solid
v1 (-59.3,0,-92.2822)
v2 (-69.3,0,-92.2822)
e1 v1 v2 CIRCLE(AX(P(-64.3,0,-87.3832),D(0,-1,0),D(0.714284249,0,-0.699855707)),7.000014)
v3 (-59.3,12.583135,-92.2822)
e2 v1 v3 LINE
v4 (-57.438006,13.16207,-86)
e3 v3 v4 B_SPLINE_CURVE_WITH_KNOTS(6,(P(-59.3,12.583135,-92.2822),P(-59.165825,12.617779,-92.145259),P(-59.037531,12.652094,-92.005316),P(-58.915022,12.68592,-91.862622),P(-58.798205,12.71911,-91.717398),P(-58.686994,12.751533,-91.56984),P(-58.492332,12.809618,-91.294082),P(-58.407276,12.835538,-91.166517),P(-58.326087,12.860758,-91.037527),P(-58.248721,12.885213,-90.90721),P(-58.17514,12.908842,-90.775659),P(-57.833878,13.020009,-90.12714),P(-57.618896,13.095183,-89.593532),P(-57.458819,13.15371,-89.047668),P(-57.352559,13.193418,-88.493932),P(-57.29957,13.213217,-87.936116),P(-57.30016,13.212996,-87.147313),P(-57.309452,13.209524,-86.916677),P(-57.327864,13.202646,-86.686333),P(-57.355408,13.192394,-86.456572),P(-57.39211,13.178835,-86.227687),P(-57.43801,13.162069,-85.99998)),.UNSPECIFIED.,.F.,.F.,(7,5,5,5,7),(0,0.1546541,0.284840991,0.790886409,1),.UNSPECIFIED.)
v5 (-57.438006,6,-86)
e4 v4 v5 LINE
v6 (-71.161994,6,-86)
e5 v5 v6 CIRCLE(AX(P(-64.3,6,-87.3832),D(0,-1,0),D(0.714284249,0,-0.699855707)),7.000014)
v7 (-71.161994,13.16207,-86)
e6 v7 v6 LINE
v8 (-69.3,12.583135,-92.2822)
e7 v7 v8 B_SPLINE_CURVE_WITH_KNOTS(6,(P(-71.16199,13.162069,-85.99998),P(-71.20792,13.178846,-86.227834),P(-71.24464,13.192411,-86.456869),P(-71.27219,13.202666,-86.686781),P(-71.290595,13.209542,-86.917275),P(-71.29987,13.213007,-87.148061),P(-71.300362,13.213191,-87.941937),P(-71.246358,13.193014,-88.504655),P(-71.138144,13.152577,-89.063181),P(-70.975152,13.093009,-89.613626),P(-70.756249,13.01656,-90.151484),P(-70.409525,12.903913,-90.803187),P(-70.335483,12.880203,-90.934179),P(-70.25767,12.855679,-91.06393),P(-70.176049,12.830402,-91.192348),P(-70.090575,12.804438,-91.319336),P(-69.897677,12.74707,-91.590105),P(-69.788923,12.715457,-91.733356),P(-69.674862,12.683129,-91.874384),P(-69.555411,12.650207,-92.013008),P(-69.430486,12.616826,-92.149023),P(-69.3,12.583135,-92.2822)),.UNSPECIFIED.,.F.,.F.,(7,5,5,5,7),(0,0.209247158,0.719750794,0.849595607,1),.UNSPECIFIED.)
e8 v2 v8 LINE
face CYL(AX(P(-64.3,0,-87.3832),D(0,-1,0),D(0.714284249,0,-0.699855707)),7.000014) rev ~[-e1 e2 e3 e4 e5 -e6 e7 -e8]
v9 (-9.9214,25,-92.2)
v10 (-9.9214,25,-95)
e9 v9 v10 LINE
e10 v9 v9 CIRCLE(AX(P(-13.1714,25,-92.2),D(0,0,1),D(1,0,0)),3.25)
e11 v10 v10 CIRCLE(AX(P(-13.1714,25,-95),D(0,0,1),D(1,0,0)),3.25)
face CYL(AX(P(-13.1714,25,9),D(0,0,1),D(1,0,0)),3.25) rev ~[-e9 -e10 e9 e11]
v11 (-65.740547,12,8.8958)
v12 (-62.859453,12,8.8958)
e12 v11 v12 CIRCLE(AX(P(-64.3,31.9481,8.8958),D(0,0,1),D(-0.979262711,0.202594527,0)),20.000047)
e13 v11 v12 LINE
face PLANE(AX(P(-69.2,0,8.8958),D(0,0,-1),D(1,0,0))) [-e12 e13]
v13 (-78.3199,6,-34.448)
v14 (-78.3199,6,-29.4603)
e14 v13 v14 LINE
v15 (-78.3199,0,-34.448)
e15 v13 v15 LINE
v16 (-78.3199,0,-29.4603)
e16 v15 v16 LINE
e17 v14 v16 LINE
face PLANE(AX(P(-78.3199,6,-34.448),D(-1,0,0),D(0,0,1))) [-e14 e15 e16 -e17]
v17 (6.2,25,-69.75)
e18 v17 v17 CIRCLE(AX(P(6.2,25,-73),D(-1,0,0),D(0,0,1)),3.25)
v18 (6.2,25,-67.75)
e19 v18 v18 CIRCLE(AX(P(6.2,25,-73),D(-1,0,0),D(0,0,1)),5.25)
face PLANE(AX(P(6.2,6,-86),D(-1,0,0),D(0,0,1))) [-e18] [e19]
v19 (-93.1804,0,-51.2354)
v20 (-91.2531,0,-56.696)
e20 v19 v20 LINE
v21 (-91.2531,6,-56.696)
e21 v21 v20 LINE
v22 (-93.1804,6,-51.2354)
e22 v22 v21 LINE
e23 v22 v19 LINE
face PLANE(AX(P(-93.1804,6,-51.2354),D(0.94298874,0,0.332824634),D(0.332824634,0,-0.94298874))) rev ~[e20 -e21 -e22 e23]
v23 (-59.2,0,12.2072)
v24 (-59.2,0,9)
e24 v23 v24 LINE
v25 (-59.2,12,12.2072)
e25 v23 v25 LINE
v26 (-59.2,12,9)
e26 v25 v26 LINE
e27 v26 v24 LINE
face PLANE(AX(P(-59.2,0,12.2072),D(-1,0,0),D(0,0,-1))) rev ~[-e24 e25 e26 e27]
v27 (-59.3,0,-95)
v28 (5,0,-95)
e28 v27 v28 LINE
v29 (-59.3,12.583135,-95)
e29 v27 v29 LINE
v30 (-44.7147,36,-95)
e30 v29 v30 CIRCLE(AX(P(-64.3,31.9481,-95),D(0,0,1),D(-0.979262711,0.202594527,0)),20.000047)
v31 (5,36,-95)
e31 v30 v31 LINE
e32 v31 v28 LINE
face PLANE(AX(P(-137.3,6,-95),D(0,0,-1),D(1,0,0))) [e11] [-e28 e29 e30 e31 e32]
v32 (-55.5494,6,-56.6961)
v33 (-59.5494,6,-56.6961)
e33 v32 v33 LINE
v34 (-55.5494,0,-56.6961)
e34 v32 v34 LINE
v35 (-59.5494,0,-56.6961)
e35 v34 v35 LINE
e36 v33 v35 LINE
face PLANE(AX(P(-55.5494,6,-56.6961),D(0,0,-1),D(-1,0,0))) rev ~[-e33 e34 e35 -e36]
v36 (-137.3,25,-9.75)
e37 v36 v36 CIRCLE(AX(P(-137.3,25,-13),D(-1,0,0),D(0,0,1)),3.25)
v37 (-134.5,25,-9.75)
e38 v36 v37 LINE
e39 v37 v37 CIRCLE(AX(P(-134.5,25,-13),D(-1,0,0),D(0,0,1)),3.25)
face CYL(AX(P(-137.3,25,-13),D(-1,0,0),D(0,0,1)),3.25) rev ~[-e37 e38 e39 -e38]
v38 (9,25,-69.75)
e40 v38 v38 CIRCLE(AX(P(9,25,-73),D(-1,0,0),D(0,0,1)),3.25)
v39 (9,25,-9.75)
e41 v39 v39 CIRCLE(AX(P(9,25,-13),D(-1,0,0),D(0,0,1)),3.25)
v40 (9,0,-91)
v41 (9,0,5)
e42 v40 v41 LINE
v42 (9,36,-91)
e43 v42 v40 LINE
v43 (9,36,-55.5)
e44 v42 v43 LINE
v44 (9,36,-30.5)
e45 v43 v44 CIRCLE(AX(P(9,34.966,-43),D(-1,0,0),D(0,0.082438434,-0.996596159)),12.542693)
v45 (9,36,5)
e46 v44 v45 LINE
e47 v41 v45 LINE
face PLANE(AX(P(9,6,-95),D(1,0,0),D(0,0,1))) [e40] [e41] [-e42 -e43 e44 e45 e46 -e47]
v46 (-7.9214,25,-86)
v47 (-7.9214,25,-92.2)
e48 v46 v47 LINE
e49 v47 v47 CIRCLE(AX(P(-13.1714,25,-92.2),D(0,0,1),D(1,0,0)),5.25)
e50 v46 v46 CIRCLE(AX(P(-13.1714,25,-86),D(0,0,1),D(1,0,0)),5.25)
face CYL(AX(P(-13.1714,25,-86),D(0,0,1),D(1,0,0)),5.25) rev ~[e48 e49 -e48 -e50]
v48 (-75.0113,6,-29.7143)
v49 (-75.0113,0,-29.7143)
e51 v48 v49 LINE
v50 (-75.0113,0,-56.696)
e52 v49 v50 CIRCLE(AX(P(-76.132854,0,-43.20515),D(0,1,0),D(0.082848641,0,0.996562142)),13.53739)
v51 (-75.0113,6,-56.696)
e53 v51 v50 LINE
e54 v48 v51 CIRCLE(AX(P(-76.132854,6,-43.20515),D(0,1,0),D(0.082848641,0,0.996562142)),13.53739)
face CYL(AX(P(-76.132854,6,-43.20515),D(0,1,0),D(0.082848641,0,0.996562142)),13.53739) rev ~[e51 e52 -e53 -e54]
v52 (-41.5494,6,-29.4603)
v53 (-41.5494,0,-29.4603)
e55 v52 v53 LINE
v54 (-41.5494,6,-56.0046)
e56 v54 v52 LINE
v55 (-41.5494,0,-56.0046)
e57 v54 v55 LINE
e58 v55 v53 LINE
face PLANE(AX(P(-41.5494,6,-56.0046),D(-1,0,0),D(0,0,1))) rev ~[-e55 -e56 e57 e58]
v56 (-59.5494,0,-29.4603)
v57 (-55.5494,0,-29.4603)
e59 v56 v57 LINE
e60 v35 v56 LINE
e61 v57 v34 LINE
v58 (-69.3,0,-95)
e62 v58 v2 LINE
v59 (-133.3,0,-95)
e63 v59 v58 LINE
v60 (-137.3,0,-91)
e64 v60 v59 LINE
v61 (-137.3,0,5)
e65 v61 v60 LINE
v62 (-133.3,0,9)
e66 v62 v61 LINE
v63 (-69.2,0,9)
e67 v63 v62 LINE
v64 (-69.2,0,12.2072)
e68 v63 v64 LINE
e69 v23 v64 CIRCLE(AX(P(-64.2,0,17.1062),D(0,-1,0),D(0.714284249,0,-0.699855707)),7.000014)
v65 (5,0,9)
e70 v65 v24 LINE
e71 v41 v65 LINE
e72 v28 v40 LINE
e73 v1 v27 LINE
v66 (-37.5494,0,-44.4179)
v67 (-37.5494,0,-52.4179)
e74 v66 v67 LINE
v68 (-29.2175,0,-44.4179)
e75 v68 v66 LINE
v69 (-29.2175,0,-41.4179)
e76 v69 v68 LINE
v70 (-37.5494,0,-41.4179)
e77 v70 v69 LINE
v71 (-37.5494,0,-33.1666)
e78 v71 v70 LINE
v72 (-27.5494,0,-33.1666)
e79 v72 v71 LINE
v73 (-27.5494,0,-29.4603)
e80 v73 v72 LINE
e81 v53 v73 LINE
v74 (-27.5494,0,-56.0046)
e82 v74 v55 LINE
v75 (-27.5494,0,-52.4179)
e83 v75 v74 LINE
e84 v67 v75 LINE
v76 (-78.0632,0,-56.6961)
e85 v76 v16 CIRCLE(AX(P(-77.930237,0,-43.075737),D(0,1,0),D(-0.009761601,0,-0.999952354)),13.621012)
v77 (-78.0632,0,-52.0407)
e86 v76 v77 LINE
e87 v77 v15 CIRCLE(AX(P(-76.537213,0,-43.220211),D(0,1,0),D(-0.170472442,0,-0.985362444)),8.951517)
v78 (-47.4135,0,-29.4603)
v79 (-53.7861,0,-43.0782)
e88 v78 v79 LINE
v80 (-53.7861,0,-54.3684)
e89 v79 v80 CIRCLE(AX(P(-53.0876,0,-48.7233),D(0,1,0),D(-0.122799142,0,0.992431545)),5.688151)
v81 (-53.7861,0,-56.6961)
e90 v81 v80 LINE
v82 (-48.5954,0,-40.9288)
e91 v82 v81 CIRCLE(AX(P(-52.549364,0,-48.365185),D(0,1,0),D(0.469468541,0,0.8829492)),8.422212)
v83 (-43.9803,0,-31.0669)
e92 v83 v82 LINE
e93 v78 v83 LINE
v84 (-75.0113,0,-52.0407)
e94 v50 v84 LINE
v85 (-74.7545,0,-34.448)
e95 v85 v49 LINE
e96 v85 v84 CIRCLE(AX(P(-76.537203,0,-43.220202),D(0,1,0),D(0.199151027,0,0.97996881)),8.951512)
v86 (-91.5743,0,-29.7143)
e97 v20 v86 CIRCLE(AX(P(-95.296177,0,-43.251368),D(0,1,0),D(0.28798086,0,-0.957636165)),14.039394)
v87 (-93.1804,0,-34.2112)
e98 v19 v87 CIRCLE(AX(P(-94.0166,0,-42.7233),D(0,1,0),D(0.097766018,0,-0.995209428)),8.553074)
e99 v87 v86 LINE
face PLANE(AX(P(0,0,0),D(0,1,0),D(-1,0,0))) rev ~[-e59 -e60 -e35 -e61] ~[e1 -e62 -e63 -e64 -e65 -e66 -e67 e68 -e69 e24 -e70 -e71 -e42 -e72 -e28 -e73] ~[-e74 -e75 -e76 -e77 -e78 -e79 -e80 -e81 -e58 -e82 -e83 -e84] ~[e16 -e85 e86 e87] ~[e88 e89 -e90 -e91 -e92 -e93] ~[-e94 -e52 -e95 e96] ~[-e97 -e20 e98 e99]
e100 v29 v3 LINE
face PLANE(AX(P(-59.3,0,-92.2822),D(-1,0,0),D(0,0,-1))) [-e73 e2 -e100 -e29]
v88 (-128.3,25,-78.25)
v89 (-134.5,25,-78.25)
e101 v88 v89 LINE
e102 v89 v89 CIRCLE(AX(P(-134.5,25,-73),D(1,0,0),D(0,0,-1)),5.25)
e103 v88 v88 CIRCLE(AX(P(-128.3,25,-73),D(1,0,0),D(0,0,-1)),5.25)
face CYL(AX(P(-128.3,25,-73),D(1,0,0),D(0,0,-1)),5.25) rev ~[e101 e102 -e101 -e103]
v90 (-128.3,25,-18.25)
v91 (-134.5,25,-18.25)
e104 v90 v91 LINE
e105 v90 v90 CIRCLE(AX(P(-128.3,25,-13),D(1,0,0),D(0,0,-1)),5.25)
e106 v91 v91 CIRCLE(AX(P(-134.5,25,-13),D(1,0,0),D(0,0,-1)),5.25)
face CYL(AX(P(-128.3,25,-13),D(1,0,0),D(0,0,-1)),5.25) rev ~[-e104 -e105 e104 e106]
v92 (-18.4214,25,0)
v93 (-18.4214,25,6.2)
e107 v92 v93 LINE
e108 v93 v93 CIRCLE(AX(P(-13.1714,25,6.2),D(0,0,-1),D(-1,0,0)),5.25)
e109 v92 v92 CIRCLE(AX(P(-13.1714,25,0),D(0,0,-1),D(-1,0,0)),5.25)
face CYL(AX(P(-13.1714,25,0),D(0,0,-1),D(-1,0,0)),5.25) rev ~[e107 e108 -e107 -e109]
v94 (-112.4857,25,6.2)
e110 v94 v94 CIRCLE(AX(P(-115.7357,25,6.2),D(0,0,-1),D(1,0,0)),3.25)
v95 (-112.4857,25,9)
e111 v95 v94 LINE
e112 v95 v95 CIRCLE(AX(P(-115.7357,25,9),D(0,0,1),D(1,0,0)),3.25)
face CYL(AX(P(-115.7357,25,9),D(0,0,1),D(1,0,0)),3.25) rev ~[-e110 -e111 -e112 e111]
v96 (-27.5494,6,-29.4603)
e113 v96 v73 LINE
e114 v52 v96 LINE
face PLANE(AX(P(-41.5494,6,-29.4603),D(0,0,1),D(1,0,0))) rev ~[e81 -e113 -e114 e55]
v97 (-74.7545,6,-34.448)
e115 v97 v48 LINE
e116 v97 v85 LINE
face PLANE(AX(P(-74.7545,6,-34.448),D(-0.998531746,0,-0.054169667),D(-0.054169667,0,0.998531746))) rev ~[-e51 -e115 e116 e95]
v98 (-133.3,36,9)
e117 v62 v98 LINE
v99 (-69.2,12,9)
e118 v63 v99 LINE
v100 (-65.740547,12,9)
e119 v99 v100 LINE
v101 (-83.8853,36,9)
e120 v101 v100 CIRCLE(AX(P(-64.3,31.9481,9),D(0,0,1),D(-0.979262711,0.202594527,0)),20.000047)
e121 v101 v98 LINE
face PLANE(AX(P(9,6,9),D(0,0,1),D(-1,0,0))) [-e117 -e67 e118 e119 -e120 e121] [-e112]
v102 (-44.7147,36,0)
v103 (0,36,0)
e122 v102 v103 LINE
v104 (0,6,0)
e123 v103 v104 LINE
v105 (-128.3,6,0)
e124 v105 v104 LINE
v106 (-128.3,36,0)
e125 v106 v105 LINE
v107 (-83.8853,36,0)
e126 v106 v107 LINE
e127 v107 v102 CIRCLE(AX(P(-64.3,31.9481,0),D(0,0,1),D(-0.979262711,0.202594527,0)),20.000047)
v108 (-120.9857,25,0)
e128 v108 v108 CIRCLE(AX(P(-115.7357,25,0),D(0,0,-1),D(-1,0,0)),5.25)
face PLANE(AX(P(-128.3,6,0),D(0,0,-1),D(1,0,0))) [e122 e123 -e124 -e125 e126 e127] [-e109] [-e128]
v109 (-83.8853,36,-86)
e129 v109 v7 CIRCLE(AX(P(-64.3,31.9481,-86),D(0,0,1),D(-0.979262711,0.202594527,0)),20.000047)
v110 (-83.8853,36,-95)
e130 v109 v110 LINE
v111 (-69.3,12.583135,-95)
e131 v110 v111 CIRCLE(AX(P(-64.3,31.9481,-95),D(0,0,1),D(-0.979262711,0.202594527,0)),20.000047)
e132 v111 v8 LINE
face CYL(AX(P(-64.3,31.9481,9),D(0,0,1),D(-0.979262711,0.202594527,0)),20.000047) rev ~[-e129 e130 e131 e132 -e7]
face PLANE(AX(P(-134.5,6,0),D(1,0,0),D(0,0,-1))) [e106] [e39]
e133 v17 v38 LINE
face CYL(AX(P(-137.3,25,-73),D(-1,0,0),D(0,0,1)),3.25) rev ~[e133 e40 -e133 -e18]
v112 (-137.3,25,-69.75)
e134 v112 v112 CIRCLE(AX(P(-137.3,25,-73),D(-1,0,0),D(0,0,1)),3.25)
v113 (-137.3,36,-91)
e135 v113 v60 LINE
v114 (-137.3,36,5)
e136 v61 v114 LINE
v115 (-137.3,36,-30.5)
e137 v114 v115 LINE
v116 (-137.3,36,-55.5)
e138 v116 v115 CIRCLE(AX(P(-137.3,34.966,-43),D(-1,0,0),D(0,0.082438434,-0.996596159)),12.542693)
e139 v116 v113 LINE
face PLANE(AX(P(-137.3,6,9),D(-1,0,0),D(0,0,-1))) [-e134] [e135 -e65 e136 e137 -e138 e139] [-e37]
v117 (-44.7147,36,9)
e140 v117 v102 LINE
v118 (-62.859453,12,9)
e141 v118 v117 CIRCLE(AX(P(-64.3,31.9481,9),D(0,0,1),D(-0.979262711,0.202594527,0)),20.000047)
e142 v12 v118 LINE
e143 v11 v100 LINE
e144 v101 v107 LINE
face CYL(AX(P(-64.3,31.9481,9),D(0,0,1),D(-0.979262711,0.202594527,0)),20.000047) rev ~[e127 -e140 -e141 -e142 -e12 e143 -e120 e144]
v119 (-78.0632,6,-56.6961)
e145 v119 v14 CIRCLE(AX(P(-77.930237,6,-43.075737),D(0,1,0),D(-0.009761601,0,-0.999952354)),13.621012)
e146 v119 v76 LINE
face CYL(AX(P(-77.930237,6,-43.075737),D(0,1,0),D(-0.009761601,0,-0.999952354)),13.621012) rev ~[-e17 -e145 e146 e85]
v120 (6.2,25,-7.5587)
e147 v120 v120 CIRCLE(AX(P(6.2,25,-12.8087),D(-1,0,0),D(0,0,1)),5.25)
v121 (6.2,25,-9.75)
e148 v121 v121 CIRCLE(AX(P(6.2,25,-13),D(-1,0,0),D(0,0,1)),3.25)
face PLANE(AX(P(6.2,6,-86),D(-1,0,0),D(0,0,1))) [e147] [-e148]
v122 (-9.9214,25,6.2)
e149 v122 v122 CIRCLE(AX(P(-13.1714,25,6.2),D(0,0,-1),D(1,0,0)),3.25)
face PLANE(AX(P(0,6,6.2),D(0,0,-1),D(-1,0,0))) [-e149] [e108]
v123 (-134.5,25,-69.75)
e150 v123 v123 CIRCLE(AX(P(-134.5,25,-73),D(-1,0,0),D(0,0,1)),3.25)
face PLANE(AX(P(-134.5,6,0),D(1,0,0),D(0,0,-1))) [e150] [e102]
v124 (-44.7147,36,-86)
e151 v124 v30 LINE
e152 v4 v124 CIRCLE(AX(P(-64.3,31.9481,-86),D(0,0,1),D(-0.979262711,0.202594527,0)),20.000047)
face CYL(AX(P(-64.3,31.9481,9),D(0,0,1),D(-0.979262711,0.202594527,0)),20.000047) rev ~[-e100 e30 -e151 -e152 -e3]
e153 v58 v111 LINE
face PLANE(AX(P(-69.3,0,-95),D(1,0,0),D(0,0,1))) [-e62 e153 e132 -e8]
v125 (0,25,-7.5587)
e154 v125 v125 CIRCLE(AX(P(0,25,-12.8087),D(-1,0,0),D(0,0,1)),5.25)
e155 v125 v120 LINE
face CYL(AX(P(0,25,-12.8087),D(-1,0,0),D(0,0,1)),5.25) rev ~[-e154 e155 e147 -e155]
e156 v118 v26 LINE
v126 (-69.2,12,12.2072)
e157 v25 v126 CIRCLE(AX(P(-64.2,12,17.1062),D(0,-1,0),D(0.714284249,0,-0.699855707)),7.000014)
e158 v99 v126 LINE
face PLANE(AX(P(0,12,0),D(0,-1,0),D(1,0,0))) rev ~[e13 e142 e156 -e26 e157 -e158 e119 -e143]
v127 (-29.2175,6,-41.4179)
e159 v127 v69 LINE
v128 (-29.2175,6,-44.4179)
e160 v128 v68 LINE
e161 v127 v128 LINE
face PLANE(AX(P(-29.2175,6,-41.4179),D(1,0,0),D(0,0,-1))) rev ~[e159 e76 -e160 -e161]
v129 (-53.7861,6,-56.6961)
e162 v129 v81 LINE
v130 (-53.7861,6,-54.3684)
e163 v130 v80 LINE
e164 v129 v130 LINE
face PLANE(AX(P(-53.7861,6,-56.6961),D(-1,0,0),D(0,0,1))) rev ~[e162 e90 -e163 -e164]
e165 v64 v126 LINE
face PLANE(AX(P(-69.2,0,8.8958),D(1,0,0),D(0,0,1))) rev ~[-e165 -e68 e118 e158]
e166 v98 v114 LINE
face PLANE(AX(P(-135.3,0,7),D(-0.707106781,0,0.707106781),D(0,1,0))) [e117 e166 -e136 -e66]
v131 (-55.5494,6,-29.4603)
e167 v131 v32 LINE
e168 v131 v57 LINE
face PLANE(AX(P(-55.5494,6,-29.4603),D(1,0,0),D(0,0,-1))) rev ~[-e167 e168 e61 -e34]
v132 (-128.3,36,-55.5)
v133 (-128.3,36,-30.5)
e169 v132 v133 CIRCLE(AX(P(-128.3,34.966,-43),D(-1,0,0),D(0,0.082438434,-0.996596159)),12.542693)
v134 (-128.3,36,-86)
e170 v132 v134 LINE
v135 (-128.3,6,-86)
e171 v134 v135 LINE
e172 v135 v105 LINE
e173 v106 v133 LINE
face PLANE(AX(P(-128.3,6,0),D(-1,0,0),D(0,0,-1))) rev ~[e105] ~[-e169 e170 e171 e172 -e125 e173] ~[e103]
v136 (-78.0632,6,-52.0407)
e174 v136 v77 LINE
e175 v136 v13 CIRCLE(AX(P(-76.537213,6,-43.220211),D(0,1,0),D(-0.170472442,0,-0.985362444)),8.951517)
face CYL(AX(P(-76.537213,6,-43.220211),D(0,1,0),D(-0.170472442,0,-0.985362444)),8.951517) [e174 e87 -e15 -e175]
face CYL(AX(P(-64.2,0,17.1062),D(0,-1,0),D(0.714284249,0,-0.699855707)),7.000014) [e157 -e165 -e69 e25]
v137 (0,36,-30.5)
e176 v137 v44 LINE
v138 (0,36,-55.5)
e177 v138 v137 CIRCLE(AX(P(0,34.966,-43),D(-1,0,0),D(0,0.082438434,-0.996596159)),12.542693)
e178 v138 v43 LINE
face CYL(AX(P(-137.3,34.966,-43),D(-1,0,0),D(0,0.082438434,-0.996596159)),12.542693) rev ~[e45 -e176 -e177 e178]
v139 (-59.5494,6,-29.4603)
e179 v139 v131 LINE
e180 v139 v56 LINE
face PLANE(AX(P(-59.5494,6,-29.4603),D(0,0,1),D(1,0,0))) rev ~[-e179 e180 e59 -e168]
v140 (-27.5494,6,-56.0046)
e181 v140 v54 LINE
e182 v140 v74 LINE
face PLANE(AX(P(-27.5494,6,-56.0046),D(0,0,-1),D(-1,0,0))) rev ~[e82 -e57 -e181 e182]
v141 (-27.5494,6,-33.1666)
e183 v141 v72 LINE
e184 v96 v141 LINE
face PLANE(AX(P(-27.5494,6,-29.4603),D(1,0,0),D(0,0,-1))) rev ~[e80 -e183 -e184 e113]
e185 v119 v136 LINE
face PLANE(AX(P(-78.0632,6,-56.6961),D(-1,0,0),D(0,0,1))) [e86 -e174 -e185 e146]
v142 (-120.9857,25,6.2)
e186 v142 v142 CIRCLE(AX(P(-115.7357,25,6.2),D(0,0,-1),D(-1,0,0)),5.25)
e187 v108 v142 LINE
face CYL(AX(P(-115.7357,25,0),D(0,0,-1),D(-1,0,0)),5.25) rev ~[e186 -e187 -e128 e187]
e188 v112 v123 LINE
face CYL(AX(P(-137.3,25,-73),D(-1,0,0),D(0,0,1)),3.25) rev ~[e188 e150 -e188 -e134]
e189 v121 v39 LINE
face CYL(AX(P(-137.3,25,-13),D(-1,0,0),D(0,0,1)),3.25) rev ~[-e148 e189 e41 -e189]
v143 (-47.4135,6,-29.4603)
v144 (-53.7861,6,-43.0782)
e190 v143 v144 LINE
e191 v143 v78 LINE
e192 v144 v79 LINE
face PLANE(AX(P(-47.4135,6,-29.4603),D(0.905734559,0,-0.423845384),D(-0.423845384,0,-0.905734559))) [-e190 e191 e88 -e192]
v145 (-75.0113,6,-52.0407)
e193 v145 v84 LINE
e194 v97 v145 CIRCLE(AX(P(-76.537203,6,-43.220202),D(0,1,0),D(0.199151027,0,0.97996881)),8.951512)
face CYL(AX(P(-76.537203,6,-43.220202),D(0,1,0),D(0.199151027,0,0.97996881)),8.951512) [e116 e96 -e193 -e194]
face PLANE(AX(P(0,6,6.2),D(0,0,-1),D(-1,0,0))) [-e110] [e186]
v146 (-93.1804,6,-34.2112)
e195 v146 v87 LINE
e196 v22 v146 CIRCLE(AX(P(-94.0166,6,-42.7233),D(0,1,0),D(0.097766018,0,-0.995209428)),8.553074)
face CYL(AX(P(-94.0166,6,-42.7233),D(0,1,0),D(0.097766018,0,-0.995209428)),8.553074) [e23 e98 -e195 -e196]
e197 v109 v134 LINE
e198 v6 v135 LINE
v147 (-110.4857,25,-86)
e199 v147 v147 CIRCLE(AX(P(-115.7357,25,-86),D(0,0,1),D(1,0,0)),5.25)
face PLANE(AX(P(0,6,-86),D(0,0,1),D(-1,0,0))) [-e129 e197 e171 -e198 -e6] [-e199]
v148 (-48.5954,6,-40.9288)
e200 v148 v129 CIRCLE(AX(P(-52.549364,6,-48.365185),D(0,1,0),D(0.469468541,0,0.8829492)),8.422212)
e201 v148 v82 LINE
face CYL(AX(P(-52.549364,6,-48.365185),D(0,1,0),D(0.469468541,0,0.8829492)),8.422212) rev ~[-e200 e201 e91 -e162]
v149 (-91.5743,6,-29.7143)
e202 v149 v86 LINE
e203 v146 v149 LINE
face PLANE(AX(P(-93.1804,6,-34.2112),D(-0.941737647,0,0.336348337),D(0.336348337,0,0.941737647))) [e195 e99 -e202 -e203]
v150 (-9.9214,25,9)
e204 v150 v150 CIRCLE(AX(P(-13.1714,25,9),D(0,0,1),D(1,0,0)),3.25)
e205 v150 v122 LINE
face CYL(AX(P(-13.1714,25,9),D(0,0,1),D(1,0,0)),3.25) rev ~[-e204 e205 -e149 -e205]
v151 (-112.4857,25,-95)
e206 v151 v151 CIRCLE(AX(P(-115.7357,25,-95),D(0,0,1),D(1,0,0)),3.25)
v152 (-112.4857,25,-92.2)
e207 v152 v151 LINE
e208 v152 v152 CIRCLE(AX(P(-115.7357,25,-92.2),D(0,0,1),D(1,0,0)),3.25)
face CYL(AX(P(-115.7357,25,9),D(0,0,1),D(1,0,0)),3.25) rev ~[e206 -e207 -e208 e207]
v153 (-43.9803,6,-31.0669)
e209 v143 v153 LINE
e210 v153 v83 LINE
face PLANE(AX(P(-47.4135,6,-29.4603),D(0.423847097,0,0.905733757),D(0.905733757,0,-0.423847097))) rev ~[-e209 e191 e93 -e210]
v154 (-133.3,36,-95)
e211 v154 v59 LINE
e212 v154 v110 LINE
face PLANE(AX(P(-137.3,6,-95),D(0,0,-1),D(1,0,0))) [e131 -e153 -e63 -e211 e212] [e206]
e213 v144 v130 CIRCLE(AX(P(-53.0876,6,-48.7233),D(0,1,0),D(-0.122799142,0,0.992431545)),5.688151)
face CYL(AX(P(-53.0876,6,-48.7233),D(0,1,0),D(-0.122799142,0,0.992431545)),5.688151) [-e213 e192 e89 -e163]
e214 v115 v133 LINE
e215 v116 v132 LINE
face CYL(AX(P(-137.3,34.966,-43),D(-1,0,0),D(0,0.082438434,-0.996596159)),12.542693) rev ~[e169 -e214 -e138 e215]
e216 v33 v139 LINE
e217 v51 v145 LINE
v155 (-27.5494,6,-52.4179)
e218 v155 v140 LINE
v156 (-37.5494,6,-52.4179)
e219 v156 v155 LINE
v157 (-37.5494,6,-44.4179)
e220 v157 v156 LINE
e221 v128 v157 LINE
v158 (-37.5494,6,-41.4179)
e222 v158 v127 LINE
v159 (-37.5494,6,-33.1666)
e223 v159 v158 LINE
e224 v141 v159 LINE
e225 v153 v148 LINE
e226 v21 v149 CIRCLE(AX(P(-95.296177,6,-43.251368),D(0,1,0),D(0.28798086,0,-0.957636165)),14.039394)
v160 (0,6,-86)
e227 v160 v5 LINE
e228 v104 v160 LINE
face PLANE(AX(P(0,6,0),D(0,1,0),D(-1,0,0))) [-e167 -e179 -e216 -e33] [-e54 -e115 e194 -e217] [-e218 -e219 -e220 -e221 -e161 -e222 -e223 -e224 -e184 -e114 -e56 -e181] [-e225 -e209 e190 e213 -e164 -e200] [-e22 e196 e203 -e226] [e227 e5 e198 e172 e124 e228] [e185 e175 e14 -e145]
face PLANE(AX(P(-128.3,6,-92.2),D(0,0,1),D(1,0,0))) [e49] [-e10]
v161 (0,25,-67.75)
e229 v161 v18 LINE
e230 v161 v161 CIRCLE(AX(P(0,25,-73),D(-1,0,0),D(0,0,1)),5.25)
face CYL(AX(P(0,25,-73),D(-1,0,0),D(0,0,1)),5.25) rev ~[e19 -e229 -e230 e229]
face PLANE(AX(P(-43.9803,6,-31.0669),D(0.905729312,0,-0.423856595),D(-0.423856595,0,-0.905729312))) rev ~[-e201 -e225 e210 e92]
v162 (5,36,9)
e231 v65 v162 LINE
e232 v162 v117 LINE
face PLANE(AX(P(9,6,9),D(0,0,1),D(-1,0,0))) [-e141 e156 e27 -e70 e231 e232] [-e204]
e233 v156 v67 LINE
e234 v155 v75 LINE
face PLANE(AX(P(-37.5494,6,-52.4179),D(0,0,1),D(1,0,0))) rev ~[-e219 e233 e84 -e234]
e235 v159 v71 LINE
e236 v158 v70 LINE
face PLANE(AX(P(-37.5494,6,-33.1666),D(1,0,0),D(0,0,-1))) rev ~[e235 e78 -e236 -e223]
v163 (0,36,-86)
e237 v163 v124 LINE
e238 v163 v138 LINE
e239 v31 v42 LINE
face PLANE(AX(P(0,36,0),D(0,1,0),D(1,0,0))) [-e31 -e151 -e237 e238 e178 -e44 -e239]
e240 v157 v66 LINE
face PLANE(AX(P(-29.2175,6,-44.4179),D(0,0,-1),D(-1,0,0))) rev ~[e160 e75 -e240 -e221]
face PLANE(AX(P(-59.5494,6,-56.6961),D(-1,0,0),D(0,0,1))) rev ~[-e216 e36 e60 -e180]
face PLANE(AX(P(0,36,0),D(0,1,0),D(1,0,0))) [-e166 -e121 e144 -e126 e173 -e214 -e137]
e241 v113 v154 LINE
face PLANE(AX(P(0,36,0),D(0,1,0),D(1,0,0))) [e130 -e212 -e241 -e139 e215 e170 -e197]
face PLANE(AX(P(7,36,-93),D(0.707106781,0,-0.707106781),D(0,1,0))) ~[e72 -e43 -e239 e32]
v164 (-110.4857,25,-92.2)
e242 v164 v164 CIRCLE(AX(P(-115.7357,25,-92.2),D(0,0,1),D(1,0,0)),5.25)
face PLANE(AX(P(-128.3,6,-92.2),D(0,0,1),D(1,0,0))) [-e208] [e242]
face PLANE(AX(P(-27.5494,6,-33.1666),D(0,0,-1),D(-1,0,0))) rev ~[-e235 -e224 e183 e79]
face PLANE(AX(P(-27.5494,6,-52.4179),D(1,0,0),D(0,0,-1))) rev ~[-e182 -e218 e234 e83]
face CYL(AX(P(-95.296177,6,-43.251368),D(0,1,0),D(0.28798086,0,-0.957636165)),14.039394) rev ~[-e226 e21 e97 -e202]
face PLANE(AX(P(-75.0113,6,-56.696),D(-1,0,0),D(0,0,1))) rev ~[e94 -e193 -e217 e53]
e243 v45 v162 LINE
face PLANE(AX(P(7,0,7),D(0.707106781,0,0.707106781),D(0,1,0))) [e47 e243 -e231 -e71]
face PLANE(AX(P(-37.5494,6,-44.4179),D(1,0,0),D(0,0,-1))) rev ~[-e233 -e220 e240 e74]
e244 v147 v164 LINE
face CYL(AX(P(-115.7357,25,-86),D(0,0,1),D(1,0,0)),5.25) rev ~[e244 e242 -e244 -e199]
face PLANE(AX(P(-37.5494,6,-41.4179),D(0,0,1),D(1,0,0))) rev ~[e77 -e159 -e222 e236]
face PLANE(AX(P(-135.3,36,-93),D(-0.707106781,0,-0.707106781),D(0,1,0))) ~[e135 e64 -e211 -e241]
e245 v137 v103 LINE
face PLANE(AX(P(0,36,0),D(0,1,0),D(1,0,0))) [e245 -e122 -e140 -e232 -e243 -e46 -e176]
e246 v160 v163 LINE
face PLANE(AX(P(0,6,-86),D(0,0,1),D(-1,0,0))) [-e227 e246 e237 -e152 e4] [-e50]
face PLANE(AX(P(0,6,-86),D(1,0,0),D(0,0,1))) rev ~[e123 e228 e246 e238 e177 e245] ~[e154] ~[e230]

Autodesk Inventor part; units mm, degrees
ref_plane "YZ Plane" through (0, 0, 0) normal (1, 0, 0) x (0, 1, 0)
ref_plane "XZ Plane" through (0, 0, 0) normal (0, 1, 0) x (-1, 0, 0)
ref_plane "XY Plane" through (0, 0, 0) normal (0, 0, 1) x (1, 0, 0)
sketch "Sketch1" plane through (0, 0, 0) normal (0, 1, 0) x (-1, 0, 0)
  line L0 (0, 0) -> (0, -86)
  line L1 (0, -86) -> (128.3, -86)
  line L2 (128.3, -86) -> (128.3, 0)
  line L3 (128.3, 0) -> (0, 0)
  dimension "d0" = 86
  dimension "d1" = 128.3
extrude "Extrusion2" add sketch "Sketch1" along normal blind 6
sketch "Sketch3" plane through (0, 6, 0) normal (0, 1, 0) x (1, 0, 0)
  point P0 (0, 0)
sketch "Sketch4" plane through (0, 6, 0) normal (0, 1, 0) x (1, 0, 0)
  arc A0 (-91.2531, 56.696) -> (-91.5743, 29.7143) centre (-95.2962, 43.2514) ccw
  arc A1 (-93.1804, 51.2354) -> (-93.1804, 34.2112) centre (-94.0166, 42.7233) ccw
  line L0 (-93.1804, 51.2354) -> (-91.2531, 56.696)
  line L1 (-93.1804, 34.2112) -> (-91.5743, 29.7143)
  arc A2 (-78.0632, 52.0407) -> (-78.3199, 34.448) centre (-76.5372, 43.2202) ccw
  arc A3 (-74.7545, 34.448) -> (-75.0113, 52.0407) centre (-76.5372, 43.2202) ccw
  arc A4 (-75.0113, 29.7143) -> (-75.0113, 56.696) centre (-76.1328, 43.2051) ccw
  line L2 (-75.0113, 56.696) -> (-75.0113, 52.0407)
  line L3 (-74.7545, 34.448) -> (-75.0113, 29.7143)
  line L4 (-78.3199, 34.448) -> (-78.3199, 29.4603)
  line L5 (-78.0632, 56.6961) -> (-78.0632, 52.0407)
  arc A5 (-78.0632, 56.6961) -> (-78.3199, 29.4603) centre (-77.9302, 43.0757) ccw
  line L6 (-59.5494, 56.6961) -> (-59.5494, 29.4603)
  line L7 (-59.5494, 29.4603) -> (-55.5494, 29.4603)
  line L8 (-55.5494, 29.4603) -> (-55.5494, 56.6961)
  line L9 (-55.5494, 56.6961) -> (-59.5494, 56.6961)
  line L10 (-47.4135, 29.4603) -> (-53.7861, 43.0782)
  arc A6 (-53.7861, 43.0782) -> (-53.7861, 54.3684) centre (-53.0876, 48.7233) ccw
  line L11 (-47.4135, 29.4603) -> (-43.9803, 31.0669)
  line L12 (-43.9803, 31.0669) -> (-48.5954, 40.9288)
  arc A7 (-48.5954, 40.9288) -> (-53.7861, 56.6961) centre (-52.5494, 48.3652) ccw
  line L13 (-53.7861, 56.6961) -> (-53.7861, 54.3684)
  line L14 (-41.5494, 56.0046) -> (-41.5494, 29.4603)
  line L15 (-41.5494, 29.4603) -> (-27.5494, 29.4603)
  line L16 (-27.5494, 29.4603) -> (-27.5494, 33.1666)
  line L17 (-27.5494, 33.1666) -> (-37.5494, 33.1666)
  line L18 (-37.5494, 33.1666) -> (-37.5494, 41.4179)
  line L19 (-37.5494, 41.4179) -> (-29.2175, 41.4179)
  line L20 (-29.2175, 41.4179) -> (-29.2175, 44.4179)
  line L21 (-29.2175, 44.4179) -> (-37.5494, 44.4179)
  line L22 (-37.5494, 44.4179) -> (-37.5494, 52.4179)
  line L23 (-37.5494, 52.4179) -> (-27.5494, 52.4179)
  line L24 (-27.5494, 52.4179) -> (-27.5494, 56.0046)
  line L25 (-27.5494, 56.0046) -> (-41.5494, 56.0046)
  line L26 (-128.3, 86) -> (-128.3, 0) projected
  line L27 (0, 86) -> (-128.3, 86) projected
  point P0 (0, 0)
extrude "Extrusion3" cut sketch "Sketch4" against normal through all
sketch "Sketch26" plane through (0, 6, 0) normal (0, 1, 0) x (1, 0, 0)
  point P0 (0, 0)
sketch "Sketch27" plane through (0, 6, 0) normal (0, 1, 0) x (1, 0, 0)
  line L0 (-1.7618, -2.4025) -> (1.922, -2.4025)
  point P0 (0, 0)
sketch "Sketch28" plane through (0, 6, 0) normal (0, 1, 0) x (1, 0, 0)
  point P0 (0, 0)
sketch "Sketch29" plane through (0, 6, 0) normal (0, 1, 0) x (1, 0, 0)
  line L0 (0, 86) -> (-128.3, 86) projected
  line L1 (-128.3, 86) -> (0, 86)
  line L2 (-128.3, 0) -> (0, 0) projected
  line L3 (0, 86) -> (0, 0)
  line L4 (0, 0) -> (-128.3, 0)
  line L5 (-128.3, 0) -> (-128.3, 86)
  line L6 (-137.3, -9) -> (-137.3, 95)
  line L7 (-137.3, 95) -> (9, 95)
  line L8 (9, 95) -> (9, -9)
  line L9 (9, -9) -> (-137.3, -9)
  dimension "d114" = 9
  dimension "d115" = 9
  dimension "d116" = 9
  dimension "d117" = 9
extrude "Extrusion11" add sketch "Sketch29" along normal blind 30 and the other way blind 6
sketch "Sketch30" plane through (-137.3, 36, 9) normal (0, 0, 1) x (1, 0, 0)
  line L0 (9, 0) -> (137.3, 0) projected
  arc A0 (53.4147, 0) -> (92.5853, 0) centre (73, -4.0519) ccw
  line L1 (53.4147, 0) -> (92.5853, 0)
  line L2 (0, -36) -> (0, 0) projected
  point P0 (137.3, -36)
  dimension "d160" = 20
  dimension "d161" = 73
extrude "Extrusion12" cut sketch "Sketch30" against normal through all
sketch "Sketch31" plane through (-137.3, 0, 9) normal (0, 0, 1) x (1, 0, 0)
  circle A0 centre (21.5643, 25) radius 3.25
  circle A1 centre (124.1286, 25) radius 3.25
  line L0 (146.3, 0) -> (0, 0) projected
  point P0 (137.3, 0)
  dimension "d124" = 6.5
  dimension "d125" = 6.5
  dimension "d126" = 25
  dimension "d127" = 25
extrude "Extrusion13" cut sketch "Sketch31" against normal through all
sketch "Sketch32" plane through (-128.3, 6, -86) normal (0, 0, 1) x (1, 0, 0)
  circle A0 centre (115.1286, 19) radius 3.25 projected
  circle A1 centre (115.1286, 19) radius 5.25
  circle A2 centre (12.5643, 19) radius 3.25 projected
  circle A3 centre (12.5643, 19) radius 5.25
  point P0 (128.3, -6)
  dimension "d130" = 10.5
  dimension "d131" = 10.5
extrude "Extrusion14" cut sketch "Sketch32" against normal blind 6.2
sketch "Sketch33" plane through (0, 6, 0) normal (0, 0, -1) x (-1, 0, 0)
  circle A0 centre (13.1714, 19) radius 3.25 projected
  circle A1 centre (13.1714, 19) radius 5.25
  circle A2 centre (115.7357, 19) radius 3.25 projected
  circle A3 centre (115.7357, 19) radius 5.25
  point P0 (0, -6)
  dimension "d134" = 10.5
  dimension "d135" = 10.5
extrude "Extrusion15" cut sketch "Sketch33" against normal blind 6.2
sketch "Sketch34" plane through (-137.3, 0, 9) normal (-1, 0, 0) x (0, 0, 1)
  line L0 (-9, 36) -> (-95, 36) projected
  line L1 (-104, 0) -> (-104, 36) projected
  arc A0 (-64.5, 36) -> (-39.5, 36) centre (-52, 34.966) ccw
  point P0 (-9, 0)
  dimension "d143" = 25
extrude "Extrusion16" cut sketch "Sketch34" against normal through all
sketch "Sketch35" plane through (-137.3, 0, -95) normal (-1, 0, 0) x (0, 0, 1)
  circle A0 centre (82, 25) radius 3.25
  circle A1 centre (22, 25) radius 3.25
  line L0 (104, 0) -> (0, 0) projected
  line L1 (0, 0) -> (0, 36) projected
  point P0 (95, 0)
  dimension "d144" = 6.5
  dimension "d145" = 6.5
  dimension "d146" = 25
  dimension "d147" = 25
  dimension "d150" = 60
  dimension "d151" = 22
extrude "Extrusion17" cut sketch "Sketch35" against normal through all
sketch "Sketch36" plane through (0, 6, -86) normal (-1, 0, 0) x (0, 0, 1)
  circle A0 centre (13, 19) radius 3.25 projected
  circle A1 centre (13, 19) radius 5.25
  circle A2 centre (73.1913, 19) radius 5.25
  point P0 (86, -6)
  dimension "d152" = 10.5
  dimension "d153" = 10.5
extrude "Extrusion18" cut sketch "Sketch36" against normal blind 6.2 contours A0 | A1 | A2
sketch "Sketch37" plane through (-128.3, 6, 0) normal (1, 0, 0) x (0, 0, -1)
  circle A0 centre (13, 19) radius 3.25 projected
  circle A1 centre (13, 19) radius 5.25
  circle A2 centre (73, 19) radius 3.25 projected
  circle A3 centre (73, 19) radius 5.25
  point P0 (0, -6)
  dimension "d156" = 10.5
  dimension "d157" = 10.5
extrude "Extrusion19" cut sketch "Sketch37" against normal blind 6.2 contours A0 | A1 | A2 | A3
sketch "Sketch39" plane through (0, 0, 0) normal (0, -1, 0) x (1, 0, 0)
  line L0 (-84.3, 9) -> (-44.3, 9) projected
  line L1 (-64.3, 9) -> (-69.3, 9)
  line L2 (-69.3, 9) -> (-69.3, 12.3114)
  line L3 (-69.3, 12.3114) -> (-59.3, 12.3114)
  line L4 (-59.3, 12.3114) -> (-59.3, 9)
  arc A0 (-59.3, 12.3114) -> (-69.3, 12.3114) centre (-64.3, 17.2104) ccw
  line L5 (-64.3, -95.7654) -> (-69.3, -95.7654)
  line L6 (-69.3, -95.7654) -> (-69.3, -92.2822)
  line L7 (-69.3, -92.2822) -> (-59.3, -92.2822)
  line L8 (-59.3, -92.2822) -> (-59.3, -95.7654)
  arc A1 (-59.3, -92.2822) -> (-69.3, -92.2822) centre (-64.3, -87.3832) ccw
  line L9 (-59.3, -95.7654) -> (-64.3, -95.7654)
  line L10 (-44.3, -95) -> (-84.3, -95) projected
  point P0 (0, 0)
  point P1 (-44.7147, 9)
  point P2 (-83.8853, 9)
  point P3 (-83.8853, -95)
  point P4 (-44.7147, -95)
  point P5 (-69.3, -95)
  point P6 (-59.3, -95)
  dimension "d162" = 5
  dimension "d163" = 10
  dimension "d164" = 7
  dimension "d165" = 5
  dimension "d166" = 10
  dimension "d167" = 7
  dimension "d168" = 0
extrude "Extrusion20" cut sketch "Sketch39" against normal blind 20 contours L6 L7 L8 L10 | A1 L7
sketch "Sketch40" plane through (0, 0, 0) normal (0, -1, 0) x (1, 0, 0)
  line L0 (-84.2, 8.8958) -> (-44.2, 8.8958)
  line L1 (-64.2, 8.8958) -> (-69.2, 8.8958)
  line L2 (-69.2, 8.8958) -> (-69.2, 12.2072)
  line L3 (-69.2, 12.2072) -> (-59.2, 12.2072)
  line L4 (-59.2, 12.2072) -> (-59.2, 8.8958)
  arc A0 (-59.2, 12.2072) -> (-69.2, 12.2072) centre (-64.2, 17.1062) ccw
  line L5 (-64.2, -95.7654) -> (-69.3, -95.7654)
  line L6 (-69.3, -95.7654) -> (-69.3, -92.2822)
  line L7 (-69.3, -92.2822) -> (-59.1, -92.2822)
  line L8 (-59.1, -92.2822) -> (-59.1, -95.7654)
  arc A1 (-59.1, -92.2822) -> (-69.3, -92.2822) centre (-64.2, -86.7831) ccw
  line L9 (-59.1, -95.7654) -> (-64.2, -95.7654)
  line L10 (-44.3, -95) -> (-84.3, -95)
  point P0 (0, 0)
  point P1 (0, 0)
  point P2 (-44.7147, 9)
  point P3 (-83.8853, 9)
  point P4 (-44.2, 8.8958)
  point P5 (-83.8853, -95)
  point P6 (-44.7147, -95)
  point P7 (-69.3, -95)
  point P8 (-59.3, -95)
  dimension "d171" = 5
  dimension "d172" = 10
  dimension "d173" = 7
  dimension "d174" = 5.1
  dimension "d175" = 10.2
  dimension "d176" = 7.5
  dimension "d177" = 0
  dimension "d187" = 10.2
extrude "Extrusion21" add sketch "Sketch40" against normal blind 12 contours L2 L3 L4 L0 | A0 L3
chamfer "Chamfer1" distance 4 angle 45 2 edges at (9, 18, 9) (9, 18, -95)
chamfer "Chamfer2" distance 4 angle 45 2 edges at (-137.3, 18, 9) (-137.3, 18, -95)
properties part number "Rack holder aluminium"
